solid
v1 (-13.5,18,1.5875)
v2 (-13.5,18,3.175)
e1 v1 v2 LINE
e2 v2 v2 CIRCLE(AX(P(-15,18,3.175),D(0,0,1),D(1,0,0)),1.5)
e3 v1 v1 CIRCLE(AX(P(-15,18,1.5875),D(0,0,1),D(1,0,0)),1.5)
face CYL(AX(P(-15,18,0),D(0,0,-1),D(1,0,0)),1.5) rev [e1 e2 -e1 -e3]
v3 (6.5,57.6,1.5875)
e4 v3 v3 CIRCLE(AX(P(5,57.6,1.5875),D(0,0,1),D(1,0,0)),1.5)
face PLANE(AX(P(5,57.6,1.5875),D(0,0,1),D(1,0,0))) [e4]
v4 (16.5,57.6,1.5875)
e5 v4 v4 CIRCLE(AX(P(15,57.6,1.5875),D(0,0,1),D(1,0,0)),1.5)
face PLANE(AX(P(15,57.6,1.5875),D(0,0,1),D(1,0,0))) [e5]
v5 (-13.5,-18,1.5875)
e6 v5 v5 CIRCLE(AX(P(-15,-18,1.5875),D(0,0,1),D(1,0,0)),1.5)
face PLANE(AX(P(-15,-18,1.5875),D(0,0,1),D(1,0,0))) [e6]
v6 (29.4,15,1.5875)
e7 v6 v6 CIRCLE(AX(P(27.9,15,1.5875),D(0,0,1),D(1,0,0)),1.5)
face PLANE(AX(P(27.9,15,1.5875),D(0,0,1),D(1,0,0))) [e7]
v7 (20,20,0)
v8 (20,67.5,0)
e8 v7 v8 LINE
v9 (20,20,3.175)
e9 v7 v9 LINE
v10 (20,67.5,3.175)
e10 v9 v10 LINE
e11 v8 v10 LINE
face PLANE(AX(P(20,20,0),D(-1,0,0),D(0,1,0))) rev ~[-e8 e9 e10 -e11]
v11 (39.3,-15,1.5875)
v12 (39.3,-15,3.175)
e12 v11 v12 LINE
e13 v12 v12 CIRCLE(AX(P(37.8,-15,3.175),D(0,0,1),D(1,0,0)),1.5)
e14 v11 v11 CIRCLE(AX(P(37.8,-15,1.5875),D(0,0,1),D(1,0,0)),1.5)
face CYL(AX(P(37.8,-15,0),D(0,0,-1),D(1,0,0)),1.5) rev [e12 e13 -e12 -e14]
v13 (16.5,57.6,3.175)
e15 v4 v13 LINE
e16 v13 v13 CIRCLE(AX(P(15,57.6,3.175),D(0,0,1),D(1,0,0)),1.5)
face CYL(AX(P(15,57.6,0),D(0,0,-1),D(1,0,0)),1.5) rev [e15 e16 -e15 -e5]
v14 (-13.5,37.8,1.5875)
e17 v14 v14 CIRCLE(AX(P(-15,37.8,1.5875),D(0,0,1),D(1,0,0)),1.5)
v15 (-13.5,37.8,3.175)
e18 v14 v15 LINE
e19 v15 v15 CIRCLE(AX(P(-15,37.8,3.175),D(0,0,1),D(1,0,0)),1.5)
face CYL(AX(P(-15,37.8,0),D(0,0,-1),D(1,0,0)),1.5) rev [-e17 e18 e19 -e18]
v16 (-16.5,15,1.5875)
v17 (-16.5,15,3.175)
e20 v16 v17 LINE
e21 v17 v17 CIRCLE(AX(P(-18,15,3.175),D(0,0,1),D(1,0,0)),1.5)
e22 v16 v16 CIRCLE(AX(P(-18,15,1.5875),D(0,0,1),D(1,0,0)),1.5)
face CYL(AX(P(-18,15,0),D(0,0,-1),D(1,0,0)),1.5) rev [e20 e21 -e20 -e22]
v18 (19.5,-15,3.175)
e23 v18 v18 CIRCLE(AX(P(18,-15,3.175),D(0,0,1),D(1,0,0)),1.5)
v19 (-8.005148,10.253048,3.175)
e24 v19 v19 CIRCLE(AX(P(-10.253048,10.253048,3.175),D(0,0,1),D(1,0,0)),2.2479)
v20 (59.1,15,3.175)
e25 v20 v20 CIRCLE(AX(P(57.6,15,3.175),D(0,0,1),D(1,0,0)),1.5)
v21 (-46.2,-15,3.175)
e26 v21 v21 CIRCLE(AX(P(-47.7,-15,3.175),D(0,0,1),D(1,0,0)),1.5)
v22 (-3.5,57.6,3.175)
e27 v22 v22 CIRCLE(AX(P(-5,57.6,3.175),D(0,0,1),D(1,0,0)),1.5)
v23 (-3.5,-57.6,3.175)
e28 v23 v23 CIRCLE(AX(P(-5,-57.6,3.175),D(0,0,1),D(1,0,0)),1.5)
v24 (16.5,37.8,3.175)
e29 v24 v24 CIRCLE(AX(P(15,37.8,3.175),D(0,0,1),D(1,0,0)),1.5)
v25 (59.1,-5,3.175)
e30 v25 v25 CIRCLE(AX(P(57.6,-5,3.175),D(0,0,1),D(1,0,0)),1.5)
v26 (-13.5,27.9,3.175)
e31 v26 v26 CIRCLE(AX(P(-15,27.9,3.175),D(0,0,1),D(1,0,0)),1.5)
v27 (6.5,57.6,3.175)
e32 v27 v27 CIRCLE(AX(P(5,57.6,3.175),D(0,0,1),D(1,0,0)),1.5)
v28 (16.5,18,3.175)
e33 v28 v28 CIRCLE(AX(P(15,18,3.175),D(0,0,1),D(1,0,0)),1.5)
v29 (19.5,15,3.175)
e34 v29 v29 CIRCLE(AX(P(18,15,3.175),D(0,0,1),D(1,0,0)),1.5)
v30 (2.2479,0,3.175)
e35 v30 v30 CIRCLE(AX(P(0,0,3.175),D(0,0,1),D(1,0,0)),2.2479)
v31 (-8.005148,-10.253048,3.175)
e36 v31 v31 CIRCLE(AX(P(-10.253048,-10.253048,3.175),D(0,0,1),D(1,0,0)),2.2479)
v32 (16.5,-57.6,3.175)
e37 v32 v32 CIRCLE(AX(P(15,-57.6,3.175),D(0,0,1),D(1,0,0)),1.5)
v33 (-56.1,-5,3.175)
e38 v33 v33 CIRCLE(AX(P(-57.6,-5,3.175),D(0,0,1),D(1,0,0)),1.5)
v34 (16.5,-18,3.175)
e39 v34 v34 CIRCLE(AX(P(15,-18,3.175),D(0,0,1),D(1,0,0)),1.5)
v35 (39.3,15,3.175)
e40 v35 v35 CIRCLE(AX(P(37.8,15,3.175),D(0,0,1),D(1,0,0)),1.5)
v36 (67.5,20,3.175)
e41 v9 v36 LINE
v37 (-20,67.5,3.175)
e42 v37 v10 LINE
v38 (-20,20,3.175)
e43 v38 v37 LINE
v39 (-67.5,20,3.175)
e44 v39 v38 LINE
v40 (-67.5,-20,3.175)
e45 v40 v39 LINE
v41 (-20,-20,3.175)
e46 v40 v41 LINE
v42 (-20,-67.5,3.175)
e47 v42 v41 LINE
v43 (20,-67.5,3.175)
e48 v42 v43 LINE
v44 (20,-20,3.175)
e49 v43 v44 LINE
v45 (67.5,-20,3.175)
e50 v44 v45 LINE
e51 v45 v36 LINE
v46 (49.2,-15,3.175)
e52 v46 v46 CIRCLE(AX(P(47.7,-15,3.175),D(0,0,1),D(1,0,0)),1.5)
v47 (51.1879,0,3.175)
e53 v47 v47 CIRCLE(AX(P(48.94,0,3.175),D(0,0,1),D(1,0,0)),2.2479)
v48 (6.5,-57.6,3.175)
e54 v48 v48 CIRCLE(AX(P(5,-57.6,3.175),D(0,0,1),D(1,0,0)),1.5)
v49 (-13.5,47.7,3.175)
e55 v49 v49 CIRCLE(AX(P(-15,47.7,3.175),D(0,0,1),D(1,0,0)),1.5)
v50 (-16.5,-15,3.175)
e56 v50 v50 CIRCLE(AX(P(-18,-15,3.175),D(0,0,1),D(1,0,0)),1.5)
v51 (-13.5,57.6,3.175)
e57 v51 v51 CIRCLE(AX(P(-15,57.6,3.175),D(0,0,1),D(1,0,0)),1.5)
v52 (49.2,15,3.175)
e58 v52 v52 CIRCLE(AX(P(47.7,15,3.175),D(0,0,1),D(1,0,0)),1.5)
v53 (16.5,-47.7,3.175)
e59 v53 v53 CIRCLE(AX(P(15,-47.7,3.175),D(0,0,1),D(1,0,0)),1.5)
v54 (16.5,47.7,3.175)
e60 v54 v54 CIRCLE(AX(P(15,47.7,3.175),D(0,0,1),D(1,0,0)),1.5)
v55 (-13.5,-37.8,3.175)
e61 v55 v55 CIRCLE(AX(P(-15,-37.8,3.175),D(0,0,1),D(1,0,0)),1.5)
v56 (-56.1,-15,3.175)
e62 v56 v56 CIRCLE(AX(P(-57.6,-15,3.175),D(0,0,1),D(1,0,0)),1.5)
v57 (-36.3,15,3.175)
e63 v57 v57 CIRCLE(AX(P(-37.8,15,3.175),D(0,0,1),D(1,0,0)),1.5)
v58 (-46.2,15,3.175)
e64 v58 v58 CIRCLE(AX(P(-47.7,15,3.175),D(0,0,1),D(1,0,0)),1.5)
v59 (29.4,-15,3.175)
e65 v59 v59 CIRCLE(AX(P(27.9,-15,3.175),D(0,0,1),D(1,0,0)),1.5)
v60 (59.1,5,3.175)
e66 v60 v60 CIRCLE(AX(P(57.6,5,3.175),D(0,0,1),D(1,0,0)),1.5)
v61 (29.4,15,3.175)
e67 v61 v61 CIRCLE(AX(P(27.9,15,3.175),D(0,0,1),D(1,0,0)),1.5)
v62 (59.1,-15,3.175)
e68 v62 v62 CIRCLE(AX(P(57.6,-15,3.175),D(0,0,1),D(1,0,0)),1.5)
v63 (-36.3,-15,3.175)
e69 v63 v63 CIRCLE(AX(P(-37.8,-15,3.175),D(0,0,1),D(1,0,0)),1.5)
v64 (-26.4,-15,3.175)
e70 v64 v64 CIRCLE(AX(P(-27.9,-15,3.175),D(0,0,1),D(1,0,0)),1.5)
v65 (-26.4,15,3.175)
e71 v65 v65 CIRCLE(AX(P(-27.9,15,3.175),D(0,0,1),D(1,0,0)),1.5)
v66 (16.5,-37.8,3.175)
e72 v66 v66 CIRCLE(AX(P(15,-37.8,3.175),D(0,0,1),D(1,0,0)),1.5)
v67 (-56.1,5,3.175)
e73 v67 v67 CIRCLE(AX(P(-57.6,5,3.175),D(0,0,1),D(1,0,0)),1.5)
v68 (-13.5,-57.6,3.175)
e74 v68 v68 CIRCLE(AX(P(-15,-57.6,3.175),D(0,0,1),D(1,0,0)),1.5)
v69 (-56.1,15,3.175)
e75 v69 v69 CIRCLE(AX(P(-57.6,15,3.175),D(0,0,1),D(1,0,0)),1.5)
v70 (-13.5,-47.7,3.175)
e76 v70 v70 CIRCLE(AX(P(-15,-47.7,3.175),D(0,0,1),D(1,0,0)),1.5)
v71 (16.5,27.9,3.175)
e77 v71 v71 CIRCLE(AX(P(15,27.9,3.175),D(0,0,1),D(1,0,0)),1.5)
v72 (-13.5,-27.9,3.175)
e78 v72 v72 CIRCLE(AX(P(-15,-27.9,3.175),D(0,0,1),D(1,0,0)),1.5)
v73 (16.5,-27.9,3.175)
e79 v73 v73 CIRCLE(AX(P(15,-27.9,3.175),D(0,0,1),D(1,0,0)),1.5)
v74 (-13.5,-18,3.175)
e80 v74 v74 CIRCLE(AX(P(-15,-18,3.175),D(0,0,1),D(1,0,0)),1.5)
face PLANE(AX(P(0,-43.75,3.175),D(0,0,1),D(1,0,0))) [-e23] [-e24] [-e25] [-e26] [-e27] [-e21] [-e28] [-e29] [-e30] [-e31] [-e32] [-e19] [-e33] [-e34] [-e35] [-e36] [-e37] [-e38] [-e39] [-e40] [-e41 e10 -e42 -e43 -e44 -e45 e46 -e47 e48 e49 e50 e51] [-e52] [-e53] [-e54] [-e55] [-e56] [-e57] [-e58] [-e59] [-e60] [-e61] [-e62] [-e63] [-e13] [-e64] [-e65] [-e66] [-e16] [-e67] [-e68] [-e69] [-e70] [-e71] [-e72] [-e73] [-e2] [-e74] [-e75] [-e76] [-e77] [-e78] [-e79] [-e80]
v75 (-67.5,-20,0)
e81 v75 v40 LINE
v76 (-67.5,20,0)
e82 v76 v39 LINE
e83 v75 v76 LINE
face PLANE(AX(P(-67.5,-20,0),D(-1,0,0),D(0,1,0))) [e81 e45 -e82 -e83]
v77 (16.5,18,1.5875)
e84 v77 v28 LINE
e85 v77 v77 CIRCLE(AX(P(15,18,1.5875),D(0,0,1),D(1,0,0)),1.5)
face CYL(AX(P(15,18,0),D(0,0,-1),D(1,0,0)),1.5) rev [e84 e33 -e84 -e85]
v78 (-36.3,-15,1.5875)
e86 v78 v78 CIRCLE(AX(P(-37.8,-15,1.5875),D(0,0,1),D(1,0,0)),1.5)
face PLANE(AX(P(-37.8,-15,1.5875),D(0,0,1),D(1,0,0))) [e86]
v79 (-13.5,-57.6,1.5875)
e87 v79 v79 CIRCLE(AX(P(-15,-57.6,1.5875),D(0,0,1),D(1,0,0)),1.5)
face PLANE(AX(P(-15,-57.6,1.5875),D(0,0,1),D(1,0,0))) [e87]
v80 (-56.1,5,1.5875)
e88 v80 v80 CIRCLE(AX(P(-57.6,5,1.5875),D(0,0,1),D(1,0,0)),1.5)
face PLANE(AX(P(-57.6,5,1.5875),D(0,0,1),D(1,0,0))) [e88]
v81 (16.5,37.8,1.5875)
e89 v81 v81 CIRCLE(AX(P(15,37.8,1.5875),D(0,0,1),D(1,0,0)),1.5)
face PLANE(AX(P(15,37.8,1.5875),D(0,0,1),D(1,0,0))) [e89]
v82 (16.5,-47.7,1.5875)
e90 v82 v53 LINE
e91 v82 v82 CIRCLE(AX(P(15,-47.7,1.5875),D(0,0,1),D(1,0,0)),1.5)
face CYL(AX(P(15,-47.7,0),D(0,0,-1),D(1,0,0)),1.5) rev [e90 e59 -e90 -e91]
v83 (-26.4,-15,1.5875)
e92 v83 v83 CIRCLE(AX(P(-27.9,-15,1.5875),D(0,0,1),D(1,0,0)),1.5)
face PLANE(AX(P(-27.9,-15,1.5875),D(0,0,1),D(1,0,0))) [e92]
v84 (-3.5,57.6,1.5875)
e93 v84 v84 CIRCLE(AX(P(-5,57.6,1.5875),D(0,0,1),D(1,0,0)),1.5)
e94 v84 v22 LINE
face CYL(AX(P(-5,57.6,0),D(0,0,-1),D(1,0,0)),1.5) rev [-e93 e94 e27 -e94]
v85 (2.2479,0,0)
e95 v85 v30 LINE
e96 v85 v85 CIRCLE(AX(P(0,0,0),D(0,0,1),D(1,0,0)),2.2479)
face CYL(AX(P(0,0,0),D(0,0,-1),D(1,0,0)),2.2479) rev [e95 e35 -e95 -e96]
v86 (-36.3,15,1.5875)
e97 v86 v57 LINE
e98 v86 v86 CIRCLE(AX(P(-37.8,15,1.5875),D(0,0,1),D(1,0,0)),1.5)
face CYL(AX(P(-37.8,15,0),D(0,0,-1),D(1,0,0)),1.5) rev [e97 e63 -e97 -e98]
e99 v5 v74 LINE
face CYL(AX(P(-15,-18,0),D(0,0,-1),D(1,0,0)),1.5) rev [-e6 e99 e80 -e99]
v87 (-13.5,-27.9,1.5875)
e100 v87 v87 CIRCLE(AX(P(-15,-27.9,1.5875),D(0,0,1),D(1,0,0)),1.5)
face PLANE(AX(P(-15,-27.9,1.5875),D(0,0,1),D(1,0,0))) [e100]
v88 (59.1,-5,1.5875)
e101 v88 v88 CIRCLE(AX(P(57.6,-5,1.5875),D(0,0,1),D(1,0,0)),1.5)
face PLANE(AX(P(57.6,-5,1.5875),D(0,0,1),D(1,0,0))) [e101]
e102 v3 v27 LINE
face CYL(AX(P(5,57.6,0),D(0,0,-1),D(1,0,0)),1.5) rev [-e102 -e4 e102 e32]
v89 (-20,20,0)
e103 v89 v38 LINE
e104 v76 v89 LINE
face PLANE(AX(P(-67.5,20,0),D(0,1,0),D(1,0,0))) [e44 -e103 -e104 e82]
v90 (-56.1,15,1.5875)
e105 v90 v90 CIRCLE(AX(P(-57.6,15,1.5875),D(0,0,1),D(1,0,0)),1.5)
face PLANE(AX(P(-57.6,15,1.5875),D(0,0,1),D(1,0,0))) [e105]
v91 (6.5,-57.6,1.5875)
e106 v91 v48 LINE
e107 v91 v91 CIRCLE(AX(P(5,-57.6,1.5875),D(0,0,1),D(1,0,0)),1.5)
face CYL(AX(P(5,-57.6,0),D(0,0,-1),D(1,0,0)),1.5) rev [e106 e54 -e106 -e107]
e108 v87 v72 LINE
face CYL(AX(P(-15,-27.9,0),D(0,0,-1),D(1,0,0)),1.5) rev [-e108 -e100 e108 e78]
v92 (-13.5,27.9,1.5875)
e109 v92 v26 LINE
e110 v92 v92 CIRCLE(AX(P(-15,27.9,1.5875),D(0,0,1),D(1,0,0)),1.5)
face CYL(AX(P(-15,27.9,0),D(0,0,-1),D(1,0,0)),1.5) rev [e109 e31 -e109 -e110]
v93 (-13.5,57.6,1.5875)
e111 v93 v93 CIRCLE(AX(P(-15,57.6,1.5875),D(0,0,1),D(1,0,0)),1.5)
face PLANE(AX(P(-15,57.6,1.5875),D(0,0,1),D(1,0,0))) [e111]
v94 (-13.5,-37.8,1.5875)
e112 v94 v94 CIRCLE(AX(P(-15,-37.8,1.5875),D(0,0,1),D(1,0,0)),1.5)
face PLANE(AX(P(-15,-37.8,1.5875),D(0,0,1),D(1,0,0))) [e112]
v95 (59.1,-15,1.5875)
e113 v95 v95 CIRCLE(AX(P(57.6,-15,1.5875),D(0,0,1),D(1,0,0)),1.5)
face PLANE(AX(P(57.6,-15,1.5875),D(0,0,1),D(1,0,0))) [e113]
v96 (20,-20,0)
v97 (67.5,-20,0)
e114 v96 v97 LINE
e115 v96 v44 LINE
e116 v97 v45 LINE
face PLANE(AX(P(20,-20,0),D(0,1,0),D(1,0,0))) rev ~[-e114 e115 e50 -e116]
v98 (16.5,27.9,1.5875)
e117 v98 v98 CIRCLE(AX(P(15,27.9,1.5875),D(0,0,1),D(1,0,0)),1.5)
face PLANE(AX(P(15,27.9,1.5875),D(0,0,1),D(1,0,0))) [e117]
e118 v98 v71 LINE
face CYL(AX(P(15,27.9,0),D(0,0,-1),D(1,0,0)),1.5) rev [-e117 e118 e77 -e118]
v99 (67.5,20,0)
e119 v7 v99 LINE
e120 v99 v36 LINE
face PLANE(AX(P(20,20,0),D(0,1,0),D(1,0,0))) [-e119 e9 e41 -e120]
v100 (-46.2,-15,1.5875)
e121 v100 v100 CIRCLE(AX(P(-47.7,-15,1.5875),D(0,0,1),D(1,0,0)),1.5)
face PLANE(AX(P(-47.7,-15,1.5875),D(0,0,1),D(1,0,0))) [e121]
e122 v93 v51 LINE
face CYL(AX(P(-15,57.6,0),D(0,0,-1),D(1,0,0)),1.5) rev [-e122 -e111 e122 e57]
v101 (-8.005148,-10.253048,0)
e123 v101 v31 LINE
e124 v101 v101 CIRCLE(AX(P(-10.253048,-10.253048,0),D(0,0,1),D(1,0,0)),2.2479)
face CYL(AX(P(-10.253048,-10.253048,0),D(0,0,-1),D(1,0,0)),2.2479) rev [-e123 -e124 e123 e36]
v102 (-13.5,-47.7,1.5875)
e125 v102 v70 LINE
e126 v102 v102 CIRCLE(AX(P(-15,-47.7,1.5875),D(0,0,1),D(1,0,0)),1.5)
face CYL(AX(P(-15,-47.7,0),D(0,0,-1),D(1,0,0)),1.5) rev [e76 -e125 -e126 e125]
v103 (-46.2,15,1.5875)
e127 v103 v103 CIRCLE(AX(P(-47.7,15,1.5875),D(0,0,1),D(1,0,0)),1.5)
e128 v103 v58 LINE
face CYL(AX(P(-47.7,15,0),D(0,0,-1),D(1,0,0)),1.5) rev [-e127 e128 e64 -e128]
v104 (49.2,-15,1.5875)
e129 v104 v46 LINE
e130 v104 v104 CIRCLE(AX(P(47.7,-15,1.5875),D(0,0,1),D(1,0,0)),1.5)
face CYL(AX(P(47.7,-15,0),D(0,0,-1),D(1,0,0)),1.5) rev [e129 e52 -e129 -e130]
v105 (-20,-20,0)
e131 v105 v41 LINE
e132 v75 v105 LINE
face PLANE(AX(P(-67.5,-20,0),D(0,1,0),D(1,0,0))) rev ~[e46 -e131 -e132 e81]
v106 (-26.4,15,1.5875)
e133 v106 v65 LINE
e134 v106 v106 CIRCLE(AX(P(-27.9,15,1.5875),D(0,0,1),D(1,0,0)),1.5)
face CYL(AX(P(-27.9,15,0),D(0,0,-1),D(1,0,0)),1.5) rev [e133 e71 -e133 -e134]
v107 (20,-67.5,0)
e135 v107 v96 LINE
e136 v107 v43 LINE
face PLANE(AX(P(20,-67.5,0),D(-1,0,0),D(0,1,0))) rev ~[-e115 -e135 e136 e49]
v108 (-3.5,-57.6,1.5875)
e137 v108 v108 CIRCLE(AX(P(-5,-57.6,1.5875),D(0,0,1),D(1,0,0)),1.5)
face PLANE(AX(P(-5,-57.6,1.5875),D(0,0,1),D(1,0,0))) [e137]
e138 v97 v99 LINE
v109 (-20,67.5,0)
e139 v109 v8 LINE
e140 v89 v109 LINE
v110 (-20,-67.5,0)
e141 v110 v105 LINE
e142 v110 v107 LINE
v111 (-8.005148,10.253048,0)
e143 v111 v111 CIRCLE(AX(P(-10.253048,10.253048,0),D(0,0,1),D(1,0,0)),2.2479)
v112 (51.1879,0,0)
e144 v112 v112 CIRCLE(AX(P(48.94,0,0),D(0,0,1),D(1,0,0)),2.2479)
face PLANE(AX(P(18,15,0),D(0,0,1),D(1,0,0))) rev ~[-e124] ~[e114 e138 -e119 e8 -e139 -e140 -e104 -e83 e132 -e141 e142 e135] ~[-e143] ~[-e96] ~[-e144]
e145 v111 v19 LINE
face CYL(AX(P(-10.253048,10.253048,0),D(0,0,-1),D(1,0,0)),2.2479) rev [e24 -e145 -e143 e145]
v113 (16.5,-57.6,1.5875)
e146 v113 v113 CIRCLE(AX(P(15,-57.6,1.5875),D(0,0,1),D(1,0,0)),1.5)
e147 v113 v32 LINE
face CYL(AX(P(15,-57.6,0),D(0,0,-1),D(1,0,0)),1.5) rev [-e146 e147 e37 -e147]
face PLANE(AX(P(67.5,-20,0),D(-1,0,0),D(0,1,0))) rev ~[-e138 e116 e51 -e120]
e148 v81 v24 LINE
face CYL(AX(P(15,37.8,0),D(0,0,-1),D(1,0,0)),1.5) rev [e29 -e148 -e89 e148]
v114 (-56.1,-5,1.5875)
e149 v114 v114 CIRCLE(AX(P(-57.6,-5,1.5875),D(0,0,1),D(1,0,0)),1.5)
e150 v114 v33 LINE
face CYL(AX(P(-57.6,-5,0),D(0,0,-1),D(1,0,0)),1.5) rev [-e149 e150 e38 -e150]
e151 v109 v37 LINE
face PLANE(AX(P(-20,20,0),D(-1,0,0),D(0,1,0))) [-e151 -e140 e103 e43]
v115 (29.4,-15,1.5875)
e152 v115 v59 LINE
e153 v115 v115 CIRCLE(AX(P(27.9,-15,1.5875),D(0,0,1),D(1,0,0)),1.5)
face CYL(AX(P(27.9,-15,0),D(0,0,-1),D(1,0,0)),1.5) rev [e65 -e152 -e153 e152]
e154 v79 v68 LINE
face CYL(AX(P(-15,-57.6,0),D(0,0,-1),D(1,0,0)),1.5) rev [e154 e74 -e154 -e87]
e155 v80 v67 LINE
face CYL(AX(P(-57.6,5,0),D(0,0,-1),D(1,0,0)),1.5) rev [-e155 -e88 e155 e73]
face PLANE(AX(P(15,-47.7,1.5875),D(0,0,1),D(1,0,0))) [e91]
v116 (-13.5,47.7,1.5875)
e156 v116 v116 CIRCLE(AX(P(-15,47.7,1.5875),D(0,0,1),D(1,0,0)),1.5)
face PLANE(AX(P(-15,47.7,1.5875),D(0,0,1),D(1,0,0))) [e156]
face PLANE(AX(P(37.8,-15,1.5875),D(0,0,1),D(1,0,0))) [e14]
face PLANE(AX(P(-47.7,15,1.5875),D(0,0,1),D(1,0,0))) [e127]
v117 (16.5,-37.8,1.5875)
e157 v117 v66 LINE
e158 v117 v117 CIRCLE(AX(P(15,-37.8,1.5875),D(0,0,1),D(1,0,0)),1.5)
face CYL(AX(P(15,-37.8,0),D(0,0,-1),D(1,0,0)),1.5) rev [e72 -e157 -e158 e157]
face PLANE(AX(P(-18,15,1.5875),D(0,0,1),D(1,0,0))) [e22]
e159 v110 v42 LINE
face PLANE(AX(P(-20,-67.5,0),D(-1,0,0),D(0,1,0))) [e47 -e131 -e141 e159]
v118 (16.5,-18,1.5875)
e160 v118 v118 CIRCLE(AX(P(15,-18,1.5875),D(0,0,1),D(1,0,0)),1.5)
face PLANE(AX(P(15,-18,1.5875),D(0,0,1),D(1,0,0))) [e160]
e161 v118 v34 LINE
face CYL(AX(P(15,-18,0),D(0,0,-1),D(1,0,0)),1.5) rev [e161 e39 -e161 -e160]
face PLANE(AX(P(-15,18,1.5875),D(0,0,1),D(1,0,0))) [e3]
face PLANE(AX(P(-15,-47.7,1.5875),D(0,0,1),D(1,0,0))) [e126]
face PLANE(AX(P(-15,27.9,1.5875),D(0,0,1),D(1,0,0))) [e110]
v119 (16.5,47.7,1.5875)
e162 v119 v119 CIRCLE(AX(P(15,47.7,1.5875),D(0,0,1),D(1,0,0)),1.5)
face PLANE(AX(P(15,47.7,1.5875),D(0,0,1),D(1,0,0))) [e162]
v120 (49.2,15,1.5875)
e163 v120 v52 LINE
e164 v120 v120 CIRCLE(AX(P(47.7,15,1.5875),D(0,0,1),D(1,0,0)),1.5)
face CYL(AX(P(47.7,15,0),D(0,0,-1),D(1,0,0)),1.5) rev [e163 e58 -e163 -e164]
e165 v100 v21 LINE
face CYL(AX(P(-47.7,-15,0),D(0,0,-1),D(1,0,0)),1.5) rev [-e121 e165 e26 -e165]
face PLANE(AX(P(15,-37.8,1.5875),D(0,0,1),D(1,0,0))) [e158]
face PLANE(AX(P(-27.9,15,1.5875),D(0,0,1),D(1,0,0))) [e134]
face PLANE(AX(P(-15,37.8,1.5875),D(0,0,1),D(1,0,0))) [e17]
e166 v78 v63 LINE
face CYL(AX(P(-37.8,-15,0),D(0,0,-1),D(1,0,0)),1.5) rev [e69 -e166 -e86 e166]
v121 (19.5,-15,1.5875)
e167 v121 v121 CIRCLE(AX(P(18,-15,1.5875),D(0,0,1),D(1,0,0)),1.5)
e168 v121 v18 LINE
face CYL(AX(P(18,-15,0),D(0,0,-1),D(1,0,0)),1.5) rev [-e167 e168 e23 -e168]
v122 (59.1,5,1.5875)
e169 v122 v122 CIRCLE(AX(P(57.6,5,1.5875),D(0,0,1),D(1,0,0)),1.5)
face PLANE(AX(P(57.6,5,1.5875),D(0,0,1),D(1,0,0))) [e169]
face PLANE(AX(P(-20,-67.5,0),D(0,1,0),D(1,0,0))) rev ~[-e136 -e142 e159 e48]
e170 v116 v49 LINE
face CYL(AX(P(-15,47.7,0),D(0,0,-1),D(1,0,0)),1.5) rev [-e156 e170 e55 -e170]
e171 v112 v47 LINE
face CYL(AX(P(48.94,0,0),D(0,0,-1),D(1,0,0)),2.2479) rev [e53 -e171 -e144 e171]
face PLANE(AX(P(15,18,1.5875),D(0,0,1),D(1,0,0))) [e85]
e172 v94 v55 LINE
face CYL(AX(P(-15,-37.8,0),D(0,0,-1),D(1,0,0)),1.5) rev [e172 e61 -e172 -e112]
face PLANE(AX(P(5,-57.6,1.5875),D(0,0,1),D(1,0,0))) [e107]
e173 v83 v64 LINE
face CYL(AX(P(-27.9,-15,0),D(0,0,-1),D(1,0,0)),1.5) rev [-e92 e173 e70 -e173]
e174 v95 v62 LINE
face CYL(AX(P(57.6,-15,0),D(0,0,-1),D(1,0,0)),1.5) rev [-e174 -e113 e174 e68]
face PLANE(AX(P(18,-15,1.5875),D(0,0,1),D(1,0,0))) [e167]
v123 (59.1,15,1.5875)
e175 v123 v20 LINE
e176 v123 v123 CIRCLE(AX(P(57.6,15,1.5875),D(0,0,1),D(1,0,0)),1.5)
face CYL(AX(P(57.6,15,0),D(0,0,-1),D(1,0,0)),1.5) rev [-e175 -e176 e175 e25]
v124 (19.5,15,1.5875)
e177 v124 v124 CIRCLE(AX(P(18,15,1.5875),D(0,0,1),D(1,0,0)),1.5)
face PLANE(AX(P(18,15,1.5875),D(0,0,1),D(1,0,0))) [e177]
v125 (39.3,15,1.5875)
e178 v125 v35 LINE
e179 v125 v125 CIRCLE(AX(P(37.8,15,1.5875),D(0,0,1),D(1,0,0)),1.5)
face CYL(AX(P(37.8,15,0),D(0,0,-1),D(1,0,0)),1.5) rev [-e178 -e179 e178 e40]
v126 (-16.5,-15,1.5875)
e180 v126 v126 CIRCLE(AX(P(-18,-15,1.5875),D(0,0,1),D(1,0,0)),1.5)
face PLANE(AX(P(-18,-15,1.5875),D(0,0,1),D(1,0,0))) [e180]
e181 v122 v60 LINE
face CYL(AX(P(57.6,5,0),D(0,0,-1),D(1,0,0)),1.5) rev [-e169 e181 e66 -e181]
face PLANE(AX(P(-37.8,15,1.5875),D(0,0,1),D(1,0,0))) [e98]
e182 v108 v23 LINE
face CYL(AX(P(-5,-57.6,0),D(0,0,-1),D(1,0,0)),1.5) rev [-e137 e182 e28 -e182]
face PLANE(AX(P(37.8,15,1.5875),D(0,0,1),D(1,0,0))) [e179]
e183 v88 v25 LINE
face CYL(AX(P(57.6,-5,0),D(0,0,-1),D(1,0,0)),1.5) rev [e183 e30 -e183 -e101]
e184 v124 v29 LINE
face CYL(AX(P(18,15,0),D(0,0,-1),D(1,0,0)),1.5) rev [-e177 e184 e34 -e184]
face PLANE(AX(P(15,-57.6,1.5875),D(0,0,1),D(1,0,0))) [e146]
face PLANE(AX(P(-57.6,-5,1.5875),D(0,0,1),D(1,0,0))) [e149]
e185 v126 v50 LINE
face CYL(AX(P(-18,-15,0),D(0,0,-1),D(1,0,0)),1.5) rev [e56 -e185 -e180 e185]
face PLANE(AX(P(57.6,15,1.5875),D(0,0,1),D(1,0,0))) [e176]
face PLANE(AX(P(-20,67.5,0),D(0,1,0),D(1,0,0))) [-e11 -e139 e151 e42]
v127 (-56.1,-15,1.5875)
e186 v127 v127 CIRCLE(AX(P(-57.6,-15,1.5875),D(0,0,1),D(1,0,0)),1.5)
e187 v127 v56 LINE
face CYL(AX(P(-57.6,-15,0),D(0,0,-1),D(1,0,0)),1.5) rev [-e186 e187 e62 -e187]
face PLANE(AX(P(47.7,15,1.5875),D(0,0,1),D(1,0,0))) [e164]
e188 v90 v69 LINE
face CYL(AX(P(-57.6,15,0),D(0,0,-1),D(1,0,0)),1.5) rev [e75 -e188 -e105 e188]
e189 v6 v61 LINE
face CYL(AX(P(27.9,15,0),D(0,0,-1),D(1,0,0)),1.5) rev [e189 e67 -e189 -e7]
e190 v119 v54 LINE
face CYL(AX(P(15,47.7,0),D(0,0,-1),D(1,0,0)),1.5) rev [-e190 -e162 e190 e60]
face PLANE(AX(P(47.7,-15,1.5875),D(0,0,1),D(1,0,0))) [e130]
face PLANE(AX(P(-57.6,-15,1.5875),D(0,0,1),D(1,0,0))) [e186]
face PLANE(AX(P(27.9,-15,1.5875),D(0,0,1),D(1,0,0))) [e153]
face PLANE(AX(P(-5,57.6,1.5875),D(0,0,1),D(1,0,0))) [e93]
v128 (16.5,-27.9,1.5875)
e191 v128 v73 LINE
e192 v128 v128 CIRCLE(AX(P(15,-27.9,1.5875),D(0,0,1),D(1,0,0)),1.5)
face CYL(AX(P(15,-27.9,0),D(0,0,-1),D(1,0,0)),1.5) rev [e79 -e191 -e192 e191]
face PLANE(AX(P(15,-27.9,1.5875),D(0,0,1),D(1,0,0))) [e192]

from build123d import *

# Parameters (mm, degrees)
SKETCH1_R           = 1.5
SKETCH1_R_2         = 2.2479
BOSS_EXTRUDE1_DEPTH = 3.175
SKETCH1_6_R         = 1.5
BOSS_EXTRUDE2_DEPTH = 1.5875


with BuildPart() as part:
    # Sketch1 → Boss-Extrude1 (new body)
    with BuildSketch(Plane.XY):
        Polygon((20, 20), (20, 67.5), (-20, 67.5), (-20, 20), (-67.5, 20), (-67.5, -20), (-20, -20), (-20, -67.5), (20, -67.5), (20, -20), (67.5, -20), (67.5, 20), align=None)
        with Locations((-15, 27.9)):
            Circle(SKETCH1_R, mode=Mode.SUBTRACT)
        with Locations((-15, 37.8)):
            Circle(SKETCH1_R, mode=Mode.SUBTRACT)
        with Locations((-15, 47.7)):
            Circle(SKETCH1_R, mode=Mode.SUBTRACT)
        with Locations((-15, 57.6)):
            Circle(SKETCH1_R, mode=Mode.SUBTRACT)
        with Locations((-5, 57.6)):
            Circle(SKETCH1_R, mode=Mode.SUBTRACT)
        with Locations((15, 27.9)):
            Circle(SKETCH1_R, mode=Mode.SUBTRACT)
        with Locations((15, 37.8)):
            Circle(SKETCH1_R, mode=Mode.SUBTRACT)
        with Locations((15, 47.7)):
            Circle(SKETCH1_R, mode=Mode.SUBTRACT)
        with Locations((5, 57.6)):
            Circle(SKETCH1_R, mode=Mode.SUBTRACT)
        with Locations((15, 57.6)):
            Circle(SKETCH1_R, mode=Mode.SUBTRACT)
        with Locations((15, 18)):
            Circle(SKETCH1_R, mode=Mode.SUBTRACT)
        with Locations((-15, -18)):
            Circle(SKETCH1_R, mode=Mode.SUBTRACT)
        with Locations((-18, -15)):
            Circle(SKETCH1_R, mode=Mode.SUBTRACT)
        with Locations((-10.253048327, -10.253048327)):
            Circle(SKETCH1_R_2, mode=Mode.SUBTRACT)
        with Locations((15, -18)):
            Circle(SKETCH1_R, mode=Mode.SUBTRACT)
        with Locations((18, -15)):
            Circle(SKETCH1_R, mode=Mode.SUBTRACT)
        with Locations((-18, 15)):
            Circle(SKETCH1_R, mode=Mode.SUBTRACT)
        with Locations((-10.253048327, 10.253048327)):
            Circle(SKETCH1_R_2, mode=Mode.SUBTRACT)
        with Locations((-15, 18)):
            Circle(SKETCH1_R, mode=Mode.SUBTRACT)
        Circle(SKETCH1_R_2, mode=Mode.SUBTRACT)
        with Locations((18, 15)):
            Circle(SKETCH1_R, mode=Mode.SUBTRACT)
        with Locations((57.6, 15)):
            Circle(SKETCH1_R, mode=Mode.SUBTRACT)
        with Locations((27.9, -15)):
            Circle(SKETCH1_R, mode=Mode.SUBTRACT)
        with Locations((37.8, -15)):
            Circle(SKETCH1_R, mode=Mode.SUBTRACT)
        with Locations((47.7, -15)):
            Circle(SKETCH1_R, mode=Mode.SUBTRACT)
        with Locations((57.6, -15)):
            Circle(SKETCH1_R, mode=Mode.SUBTRACT)
        with Locations((57.6, -5)):
            Circle(SKETCH1_R, mode=Mode.SUBTRACT)
        with Locations((27.9, 15)):
            Circle(SKETCH1_R, mode=Mode.SUBTRACT)
        with Locations((48.94, 0)):
            Circle(SKETCH1_R_2, mode=Mode.SUBTRACT)
        with Locations((37.8, 15)):
            Circle(SKETCH1_R, mode=Mode.SUBTRACT)
        with Locations((47.7, 15)):
            Circle(SKETCH1_R, mode=Mode.SUBTRACT)
        with Locations((57.6, 5)):
            Circle(SKETCH1_R, mode=Mode.SUBTRACT)
        with Locations((15, -27.9)):
            Circle(SKETCH1_R, mode=Mode.SUBTRACT)
        with Locations((-15, -57.6)):
            Circle(SKETCH1_R, mode=Mode.SUBTRACT)
        with Locations((-5, -57.6)):
            Circle(SKETCH1_R, mode=Mode.SUBTRACT)
        with Locations((-15, -47.7)):
            Circle(SKETCH1_R, mode=Mode.SUBTRACT)
        with Locations((-15, -37.8)):
            Circle(SKETCH1_R, mode=Mode.SUBTRACT)
        with Locations((-15, -27.9)):
            Circle(SKETCH1_R, mode=Mode.SUBTRACT)
        with Locations((5, -57.6)):
            Circle(SKETCH1_R, mode=Mode.SUBTRACT)
        with Locations((15, -57.6)):
            Circle(SKETCH1_R, mode=Mode.SUBTRACT)
        with Locations((15, -47.7)):
            Circle(SKETCH1_R, mode=Mode.SUBTRACT)
        with Locations((15, -37.8)):
            Circle(SKETCH1_R, mode=Mode.SUBTRACT)
        with Locations((-27.9, 15)):
            Circle(SKETCH1_R, mode=Mode.SUBTRACT)
        with Locations((-57.6, -15)):
            Circle(SKETCH1_R, mode=Mode.SUBTRACT)
        with Locations((-57.6, -5)):
            Circle(SKETCH1_R, mode=Mode.SUBTRACT)
        with Locations((-47.7, -15)):
            Circle(SKETCH1_R, mode=Mode.SUBTRACT)
        with Locations((-37.8, -15)):
            Circle(SKETCH1_R, mode=Mode.SUBTRACT)
        with Locations((-27.9, -15)):
            Circle(SKETCH1_R, mode=Mode.SUBTRACT)
        with Locations((-57.6, 5)):
            Circle(SKETCH1_R, mode=Mode.SUBTRACT)
        with Locations((-57.6, 15)):
            Circle(SKETCH1_R, mode=Mode.SUBTRACT)
        with Locations((-47.7, 15)):
            Circle(SKETCH1_R, mode=Mode.SUBTRACT)
        with Locations((-37.8, 15)):
            Circle(SKETCH1_R, mode=Mode.SUBTRACT)
    extrude(amount=BOSS_EXTRUDE1_DEPTH)

    # Sketch1<6> → Boss-Extrude2 (add)
    with BuildSketch(Plane.XY):
        with Locations((27.9, 15)):
            Circle(SKETCH1_6_R)
        with Locations((37.8, 15)):
            Circle(SKETCH1_6_R)
        with Locations((47.7, 15)):
            Circle(SKETCH1_6_R)
        with Locations((57.6, 15)):
            Circle(SKETCH1_6_R)
        with Locations((18, 15)):
            Circle(SKETCH1_6_R)
        with Locations((57.6, 5)):
            Circle(SKETCH1_6_R)
        with Locations((27.9, -15)):
            Circle(SKETCH1_6_R)
        with Locations((37.8, -15)):
            Circle(SKETCH1_6_R)
        with Locations((47.7, -15)):
            Circle(SKETCH1_6_R)
        with Locations((57.6, -5)):
            Circle(SKETCH1_6_R)
        with Locations((57.6, -15)):
            Circle(SKETCH1_6_R)
        with Locations((18, -15)):
            Circle(SKETCH1_6_R)
        with Locations((-18, -15)):
            Circle(SKETCH1_6_R)
        with Locations((-27.9, -15)):
            Circle(SKETCH1_6_R)
        with Locations((-37.8, -15)):
            Circle(SKETCH1_6_R)
        with Locations((-47.7, -15)):
            Circle(SKETCH1_6_R)
        with Locations((-57.6, -15)):
            Circle(SKETCH1_6_R)
        with Locations((-57.6, -5)):
            Circle(SKETCH1_6_R)
        with Locations((-57.6, 5)):
            Circle(SKETCH1_6_R)
        with Locations((-37.8, 15)):
            Circle(SKETCH1_6_R)
        with Locations((-47.7, 15)):
            Circle(SKETCH1_6_R)
        with Locations((-57.6, 15)):
            Circle(SKETCH1_6_R)
        with Locations((-27.9, 15)):
            Circle(SKETCH1_6_R)
        with Locations((-18, 15)):
            Circle(SKETCH1_6_R)
        with Locations((-15, 57.6)):
            Circle(SKETCH1_6_R)
        with Locations((-5, 57.6)):
            Circle(SKETCH1_6_R)
        with Locations((-15, 47.7)):
            Circle(SKETCH1_6_R)
        with Locations((-15, 37.8)):
            Circle(SKETCH1_6_R)
        with Locations((-15, 27.9)):
            Circle(SKETCH1_6_R)
        with Locations((-15, 18)):
            Circle(SKETCH1_6_R)
        with Locations((15, 18)):
            Circle(SKETCH1_6_R)
        with Locations((15, 27.9)):
            Circle(SKETCH1_6_R)
        with Locations((15, 37.8)):
            Circle(SKETCH1_6_R)
        with Locations((15, 47.7)):
            Circle(SKETCH1_6_R)
        with Locations((15, 57.6)):
            Circle(SKETCH1_6_R)
        with Locations((5, 57.6)):
            Circle(SKETCH1_6_R)
        with Locations((-15, -18)):
            Circle(SKETCH1_6_R)
        with Locations((-15, -27.9)):
            Circle(SKETCH1_6_R)
        with Locations((-15, -37.8)):
            Circle(SKETCH1_6_R)
        with Locations((-15, -47.7)):
            Circle(SKETCH1_6_R)
        with Locations((-15, -57.6)):
            Circle(SKETCH1_6_R)
        with Locations((-5, -57.6)):
            Circle(SKETCH1_6_R)
        with Locations((5, -57.6)):
            Circle(SKETCH1_6_R)
        with Locations((15, -57.6)):
            Circle(SKETCH1_6_R)
        with Locations((15, -47.7)):
            Circle(SKETCH1_6_R)
        with Locations((15, -37.8)):
            Circle(SKETCH1_6_R)
        with Locations((15, -27.9)):
            Circle(SKETCH1_6_R)
        with Locations((15, -18)):
            Circle(SKETCH1_6_R)
    extrude(amount=BOSS_EXTRUDE2_DEPTH)


solid = part.part
